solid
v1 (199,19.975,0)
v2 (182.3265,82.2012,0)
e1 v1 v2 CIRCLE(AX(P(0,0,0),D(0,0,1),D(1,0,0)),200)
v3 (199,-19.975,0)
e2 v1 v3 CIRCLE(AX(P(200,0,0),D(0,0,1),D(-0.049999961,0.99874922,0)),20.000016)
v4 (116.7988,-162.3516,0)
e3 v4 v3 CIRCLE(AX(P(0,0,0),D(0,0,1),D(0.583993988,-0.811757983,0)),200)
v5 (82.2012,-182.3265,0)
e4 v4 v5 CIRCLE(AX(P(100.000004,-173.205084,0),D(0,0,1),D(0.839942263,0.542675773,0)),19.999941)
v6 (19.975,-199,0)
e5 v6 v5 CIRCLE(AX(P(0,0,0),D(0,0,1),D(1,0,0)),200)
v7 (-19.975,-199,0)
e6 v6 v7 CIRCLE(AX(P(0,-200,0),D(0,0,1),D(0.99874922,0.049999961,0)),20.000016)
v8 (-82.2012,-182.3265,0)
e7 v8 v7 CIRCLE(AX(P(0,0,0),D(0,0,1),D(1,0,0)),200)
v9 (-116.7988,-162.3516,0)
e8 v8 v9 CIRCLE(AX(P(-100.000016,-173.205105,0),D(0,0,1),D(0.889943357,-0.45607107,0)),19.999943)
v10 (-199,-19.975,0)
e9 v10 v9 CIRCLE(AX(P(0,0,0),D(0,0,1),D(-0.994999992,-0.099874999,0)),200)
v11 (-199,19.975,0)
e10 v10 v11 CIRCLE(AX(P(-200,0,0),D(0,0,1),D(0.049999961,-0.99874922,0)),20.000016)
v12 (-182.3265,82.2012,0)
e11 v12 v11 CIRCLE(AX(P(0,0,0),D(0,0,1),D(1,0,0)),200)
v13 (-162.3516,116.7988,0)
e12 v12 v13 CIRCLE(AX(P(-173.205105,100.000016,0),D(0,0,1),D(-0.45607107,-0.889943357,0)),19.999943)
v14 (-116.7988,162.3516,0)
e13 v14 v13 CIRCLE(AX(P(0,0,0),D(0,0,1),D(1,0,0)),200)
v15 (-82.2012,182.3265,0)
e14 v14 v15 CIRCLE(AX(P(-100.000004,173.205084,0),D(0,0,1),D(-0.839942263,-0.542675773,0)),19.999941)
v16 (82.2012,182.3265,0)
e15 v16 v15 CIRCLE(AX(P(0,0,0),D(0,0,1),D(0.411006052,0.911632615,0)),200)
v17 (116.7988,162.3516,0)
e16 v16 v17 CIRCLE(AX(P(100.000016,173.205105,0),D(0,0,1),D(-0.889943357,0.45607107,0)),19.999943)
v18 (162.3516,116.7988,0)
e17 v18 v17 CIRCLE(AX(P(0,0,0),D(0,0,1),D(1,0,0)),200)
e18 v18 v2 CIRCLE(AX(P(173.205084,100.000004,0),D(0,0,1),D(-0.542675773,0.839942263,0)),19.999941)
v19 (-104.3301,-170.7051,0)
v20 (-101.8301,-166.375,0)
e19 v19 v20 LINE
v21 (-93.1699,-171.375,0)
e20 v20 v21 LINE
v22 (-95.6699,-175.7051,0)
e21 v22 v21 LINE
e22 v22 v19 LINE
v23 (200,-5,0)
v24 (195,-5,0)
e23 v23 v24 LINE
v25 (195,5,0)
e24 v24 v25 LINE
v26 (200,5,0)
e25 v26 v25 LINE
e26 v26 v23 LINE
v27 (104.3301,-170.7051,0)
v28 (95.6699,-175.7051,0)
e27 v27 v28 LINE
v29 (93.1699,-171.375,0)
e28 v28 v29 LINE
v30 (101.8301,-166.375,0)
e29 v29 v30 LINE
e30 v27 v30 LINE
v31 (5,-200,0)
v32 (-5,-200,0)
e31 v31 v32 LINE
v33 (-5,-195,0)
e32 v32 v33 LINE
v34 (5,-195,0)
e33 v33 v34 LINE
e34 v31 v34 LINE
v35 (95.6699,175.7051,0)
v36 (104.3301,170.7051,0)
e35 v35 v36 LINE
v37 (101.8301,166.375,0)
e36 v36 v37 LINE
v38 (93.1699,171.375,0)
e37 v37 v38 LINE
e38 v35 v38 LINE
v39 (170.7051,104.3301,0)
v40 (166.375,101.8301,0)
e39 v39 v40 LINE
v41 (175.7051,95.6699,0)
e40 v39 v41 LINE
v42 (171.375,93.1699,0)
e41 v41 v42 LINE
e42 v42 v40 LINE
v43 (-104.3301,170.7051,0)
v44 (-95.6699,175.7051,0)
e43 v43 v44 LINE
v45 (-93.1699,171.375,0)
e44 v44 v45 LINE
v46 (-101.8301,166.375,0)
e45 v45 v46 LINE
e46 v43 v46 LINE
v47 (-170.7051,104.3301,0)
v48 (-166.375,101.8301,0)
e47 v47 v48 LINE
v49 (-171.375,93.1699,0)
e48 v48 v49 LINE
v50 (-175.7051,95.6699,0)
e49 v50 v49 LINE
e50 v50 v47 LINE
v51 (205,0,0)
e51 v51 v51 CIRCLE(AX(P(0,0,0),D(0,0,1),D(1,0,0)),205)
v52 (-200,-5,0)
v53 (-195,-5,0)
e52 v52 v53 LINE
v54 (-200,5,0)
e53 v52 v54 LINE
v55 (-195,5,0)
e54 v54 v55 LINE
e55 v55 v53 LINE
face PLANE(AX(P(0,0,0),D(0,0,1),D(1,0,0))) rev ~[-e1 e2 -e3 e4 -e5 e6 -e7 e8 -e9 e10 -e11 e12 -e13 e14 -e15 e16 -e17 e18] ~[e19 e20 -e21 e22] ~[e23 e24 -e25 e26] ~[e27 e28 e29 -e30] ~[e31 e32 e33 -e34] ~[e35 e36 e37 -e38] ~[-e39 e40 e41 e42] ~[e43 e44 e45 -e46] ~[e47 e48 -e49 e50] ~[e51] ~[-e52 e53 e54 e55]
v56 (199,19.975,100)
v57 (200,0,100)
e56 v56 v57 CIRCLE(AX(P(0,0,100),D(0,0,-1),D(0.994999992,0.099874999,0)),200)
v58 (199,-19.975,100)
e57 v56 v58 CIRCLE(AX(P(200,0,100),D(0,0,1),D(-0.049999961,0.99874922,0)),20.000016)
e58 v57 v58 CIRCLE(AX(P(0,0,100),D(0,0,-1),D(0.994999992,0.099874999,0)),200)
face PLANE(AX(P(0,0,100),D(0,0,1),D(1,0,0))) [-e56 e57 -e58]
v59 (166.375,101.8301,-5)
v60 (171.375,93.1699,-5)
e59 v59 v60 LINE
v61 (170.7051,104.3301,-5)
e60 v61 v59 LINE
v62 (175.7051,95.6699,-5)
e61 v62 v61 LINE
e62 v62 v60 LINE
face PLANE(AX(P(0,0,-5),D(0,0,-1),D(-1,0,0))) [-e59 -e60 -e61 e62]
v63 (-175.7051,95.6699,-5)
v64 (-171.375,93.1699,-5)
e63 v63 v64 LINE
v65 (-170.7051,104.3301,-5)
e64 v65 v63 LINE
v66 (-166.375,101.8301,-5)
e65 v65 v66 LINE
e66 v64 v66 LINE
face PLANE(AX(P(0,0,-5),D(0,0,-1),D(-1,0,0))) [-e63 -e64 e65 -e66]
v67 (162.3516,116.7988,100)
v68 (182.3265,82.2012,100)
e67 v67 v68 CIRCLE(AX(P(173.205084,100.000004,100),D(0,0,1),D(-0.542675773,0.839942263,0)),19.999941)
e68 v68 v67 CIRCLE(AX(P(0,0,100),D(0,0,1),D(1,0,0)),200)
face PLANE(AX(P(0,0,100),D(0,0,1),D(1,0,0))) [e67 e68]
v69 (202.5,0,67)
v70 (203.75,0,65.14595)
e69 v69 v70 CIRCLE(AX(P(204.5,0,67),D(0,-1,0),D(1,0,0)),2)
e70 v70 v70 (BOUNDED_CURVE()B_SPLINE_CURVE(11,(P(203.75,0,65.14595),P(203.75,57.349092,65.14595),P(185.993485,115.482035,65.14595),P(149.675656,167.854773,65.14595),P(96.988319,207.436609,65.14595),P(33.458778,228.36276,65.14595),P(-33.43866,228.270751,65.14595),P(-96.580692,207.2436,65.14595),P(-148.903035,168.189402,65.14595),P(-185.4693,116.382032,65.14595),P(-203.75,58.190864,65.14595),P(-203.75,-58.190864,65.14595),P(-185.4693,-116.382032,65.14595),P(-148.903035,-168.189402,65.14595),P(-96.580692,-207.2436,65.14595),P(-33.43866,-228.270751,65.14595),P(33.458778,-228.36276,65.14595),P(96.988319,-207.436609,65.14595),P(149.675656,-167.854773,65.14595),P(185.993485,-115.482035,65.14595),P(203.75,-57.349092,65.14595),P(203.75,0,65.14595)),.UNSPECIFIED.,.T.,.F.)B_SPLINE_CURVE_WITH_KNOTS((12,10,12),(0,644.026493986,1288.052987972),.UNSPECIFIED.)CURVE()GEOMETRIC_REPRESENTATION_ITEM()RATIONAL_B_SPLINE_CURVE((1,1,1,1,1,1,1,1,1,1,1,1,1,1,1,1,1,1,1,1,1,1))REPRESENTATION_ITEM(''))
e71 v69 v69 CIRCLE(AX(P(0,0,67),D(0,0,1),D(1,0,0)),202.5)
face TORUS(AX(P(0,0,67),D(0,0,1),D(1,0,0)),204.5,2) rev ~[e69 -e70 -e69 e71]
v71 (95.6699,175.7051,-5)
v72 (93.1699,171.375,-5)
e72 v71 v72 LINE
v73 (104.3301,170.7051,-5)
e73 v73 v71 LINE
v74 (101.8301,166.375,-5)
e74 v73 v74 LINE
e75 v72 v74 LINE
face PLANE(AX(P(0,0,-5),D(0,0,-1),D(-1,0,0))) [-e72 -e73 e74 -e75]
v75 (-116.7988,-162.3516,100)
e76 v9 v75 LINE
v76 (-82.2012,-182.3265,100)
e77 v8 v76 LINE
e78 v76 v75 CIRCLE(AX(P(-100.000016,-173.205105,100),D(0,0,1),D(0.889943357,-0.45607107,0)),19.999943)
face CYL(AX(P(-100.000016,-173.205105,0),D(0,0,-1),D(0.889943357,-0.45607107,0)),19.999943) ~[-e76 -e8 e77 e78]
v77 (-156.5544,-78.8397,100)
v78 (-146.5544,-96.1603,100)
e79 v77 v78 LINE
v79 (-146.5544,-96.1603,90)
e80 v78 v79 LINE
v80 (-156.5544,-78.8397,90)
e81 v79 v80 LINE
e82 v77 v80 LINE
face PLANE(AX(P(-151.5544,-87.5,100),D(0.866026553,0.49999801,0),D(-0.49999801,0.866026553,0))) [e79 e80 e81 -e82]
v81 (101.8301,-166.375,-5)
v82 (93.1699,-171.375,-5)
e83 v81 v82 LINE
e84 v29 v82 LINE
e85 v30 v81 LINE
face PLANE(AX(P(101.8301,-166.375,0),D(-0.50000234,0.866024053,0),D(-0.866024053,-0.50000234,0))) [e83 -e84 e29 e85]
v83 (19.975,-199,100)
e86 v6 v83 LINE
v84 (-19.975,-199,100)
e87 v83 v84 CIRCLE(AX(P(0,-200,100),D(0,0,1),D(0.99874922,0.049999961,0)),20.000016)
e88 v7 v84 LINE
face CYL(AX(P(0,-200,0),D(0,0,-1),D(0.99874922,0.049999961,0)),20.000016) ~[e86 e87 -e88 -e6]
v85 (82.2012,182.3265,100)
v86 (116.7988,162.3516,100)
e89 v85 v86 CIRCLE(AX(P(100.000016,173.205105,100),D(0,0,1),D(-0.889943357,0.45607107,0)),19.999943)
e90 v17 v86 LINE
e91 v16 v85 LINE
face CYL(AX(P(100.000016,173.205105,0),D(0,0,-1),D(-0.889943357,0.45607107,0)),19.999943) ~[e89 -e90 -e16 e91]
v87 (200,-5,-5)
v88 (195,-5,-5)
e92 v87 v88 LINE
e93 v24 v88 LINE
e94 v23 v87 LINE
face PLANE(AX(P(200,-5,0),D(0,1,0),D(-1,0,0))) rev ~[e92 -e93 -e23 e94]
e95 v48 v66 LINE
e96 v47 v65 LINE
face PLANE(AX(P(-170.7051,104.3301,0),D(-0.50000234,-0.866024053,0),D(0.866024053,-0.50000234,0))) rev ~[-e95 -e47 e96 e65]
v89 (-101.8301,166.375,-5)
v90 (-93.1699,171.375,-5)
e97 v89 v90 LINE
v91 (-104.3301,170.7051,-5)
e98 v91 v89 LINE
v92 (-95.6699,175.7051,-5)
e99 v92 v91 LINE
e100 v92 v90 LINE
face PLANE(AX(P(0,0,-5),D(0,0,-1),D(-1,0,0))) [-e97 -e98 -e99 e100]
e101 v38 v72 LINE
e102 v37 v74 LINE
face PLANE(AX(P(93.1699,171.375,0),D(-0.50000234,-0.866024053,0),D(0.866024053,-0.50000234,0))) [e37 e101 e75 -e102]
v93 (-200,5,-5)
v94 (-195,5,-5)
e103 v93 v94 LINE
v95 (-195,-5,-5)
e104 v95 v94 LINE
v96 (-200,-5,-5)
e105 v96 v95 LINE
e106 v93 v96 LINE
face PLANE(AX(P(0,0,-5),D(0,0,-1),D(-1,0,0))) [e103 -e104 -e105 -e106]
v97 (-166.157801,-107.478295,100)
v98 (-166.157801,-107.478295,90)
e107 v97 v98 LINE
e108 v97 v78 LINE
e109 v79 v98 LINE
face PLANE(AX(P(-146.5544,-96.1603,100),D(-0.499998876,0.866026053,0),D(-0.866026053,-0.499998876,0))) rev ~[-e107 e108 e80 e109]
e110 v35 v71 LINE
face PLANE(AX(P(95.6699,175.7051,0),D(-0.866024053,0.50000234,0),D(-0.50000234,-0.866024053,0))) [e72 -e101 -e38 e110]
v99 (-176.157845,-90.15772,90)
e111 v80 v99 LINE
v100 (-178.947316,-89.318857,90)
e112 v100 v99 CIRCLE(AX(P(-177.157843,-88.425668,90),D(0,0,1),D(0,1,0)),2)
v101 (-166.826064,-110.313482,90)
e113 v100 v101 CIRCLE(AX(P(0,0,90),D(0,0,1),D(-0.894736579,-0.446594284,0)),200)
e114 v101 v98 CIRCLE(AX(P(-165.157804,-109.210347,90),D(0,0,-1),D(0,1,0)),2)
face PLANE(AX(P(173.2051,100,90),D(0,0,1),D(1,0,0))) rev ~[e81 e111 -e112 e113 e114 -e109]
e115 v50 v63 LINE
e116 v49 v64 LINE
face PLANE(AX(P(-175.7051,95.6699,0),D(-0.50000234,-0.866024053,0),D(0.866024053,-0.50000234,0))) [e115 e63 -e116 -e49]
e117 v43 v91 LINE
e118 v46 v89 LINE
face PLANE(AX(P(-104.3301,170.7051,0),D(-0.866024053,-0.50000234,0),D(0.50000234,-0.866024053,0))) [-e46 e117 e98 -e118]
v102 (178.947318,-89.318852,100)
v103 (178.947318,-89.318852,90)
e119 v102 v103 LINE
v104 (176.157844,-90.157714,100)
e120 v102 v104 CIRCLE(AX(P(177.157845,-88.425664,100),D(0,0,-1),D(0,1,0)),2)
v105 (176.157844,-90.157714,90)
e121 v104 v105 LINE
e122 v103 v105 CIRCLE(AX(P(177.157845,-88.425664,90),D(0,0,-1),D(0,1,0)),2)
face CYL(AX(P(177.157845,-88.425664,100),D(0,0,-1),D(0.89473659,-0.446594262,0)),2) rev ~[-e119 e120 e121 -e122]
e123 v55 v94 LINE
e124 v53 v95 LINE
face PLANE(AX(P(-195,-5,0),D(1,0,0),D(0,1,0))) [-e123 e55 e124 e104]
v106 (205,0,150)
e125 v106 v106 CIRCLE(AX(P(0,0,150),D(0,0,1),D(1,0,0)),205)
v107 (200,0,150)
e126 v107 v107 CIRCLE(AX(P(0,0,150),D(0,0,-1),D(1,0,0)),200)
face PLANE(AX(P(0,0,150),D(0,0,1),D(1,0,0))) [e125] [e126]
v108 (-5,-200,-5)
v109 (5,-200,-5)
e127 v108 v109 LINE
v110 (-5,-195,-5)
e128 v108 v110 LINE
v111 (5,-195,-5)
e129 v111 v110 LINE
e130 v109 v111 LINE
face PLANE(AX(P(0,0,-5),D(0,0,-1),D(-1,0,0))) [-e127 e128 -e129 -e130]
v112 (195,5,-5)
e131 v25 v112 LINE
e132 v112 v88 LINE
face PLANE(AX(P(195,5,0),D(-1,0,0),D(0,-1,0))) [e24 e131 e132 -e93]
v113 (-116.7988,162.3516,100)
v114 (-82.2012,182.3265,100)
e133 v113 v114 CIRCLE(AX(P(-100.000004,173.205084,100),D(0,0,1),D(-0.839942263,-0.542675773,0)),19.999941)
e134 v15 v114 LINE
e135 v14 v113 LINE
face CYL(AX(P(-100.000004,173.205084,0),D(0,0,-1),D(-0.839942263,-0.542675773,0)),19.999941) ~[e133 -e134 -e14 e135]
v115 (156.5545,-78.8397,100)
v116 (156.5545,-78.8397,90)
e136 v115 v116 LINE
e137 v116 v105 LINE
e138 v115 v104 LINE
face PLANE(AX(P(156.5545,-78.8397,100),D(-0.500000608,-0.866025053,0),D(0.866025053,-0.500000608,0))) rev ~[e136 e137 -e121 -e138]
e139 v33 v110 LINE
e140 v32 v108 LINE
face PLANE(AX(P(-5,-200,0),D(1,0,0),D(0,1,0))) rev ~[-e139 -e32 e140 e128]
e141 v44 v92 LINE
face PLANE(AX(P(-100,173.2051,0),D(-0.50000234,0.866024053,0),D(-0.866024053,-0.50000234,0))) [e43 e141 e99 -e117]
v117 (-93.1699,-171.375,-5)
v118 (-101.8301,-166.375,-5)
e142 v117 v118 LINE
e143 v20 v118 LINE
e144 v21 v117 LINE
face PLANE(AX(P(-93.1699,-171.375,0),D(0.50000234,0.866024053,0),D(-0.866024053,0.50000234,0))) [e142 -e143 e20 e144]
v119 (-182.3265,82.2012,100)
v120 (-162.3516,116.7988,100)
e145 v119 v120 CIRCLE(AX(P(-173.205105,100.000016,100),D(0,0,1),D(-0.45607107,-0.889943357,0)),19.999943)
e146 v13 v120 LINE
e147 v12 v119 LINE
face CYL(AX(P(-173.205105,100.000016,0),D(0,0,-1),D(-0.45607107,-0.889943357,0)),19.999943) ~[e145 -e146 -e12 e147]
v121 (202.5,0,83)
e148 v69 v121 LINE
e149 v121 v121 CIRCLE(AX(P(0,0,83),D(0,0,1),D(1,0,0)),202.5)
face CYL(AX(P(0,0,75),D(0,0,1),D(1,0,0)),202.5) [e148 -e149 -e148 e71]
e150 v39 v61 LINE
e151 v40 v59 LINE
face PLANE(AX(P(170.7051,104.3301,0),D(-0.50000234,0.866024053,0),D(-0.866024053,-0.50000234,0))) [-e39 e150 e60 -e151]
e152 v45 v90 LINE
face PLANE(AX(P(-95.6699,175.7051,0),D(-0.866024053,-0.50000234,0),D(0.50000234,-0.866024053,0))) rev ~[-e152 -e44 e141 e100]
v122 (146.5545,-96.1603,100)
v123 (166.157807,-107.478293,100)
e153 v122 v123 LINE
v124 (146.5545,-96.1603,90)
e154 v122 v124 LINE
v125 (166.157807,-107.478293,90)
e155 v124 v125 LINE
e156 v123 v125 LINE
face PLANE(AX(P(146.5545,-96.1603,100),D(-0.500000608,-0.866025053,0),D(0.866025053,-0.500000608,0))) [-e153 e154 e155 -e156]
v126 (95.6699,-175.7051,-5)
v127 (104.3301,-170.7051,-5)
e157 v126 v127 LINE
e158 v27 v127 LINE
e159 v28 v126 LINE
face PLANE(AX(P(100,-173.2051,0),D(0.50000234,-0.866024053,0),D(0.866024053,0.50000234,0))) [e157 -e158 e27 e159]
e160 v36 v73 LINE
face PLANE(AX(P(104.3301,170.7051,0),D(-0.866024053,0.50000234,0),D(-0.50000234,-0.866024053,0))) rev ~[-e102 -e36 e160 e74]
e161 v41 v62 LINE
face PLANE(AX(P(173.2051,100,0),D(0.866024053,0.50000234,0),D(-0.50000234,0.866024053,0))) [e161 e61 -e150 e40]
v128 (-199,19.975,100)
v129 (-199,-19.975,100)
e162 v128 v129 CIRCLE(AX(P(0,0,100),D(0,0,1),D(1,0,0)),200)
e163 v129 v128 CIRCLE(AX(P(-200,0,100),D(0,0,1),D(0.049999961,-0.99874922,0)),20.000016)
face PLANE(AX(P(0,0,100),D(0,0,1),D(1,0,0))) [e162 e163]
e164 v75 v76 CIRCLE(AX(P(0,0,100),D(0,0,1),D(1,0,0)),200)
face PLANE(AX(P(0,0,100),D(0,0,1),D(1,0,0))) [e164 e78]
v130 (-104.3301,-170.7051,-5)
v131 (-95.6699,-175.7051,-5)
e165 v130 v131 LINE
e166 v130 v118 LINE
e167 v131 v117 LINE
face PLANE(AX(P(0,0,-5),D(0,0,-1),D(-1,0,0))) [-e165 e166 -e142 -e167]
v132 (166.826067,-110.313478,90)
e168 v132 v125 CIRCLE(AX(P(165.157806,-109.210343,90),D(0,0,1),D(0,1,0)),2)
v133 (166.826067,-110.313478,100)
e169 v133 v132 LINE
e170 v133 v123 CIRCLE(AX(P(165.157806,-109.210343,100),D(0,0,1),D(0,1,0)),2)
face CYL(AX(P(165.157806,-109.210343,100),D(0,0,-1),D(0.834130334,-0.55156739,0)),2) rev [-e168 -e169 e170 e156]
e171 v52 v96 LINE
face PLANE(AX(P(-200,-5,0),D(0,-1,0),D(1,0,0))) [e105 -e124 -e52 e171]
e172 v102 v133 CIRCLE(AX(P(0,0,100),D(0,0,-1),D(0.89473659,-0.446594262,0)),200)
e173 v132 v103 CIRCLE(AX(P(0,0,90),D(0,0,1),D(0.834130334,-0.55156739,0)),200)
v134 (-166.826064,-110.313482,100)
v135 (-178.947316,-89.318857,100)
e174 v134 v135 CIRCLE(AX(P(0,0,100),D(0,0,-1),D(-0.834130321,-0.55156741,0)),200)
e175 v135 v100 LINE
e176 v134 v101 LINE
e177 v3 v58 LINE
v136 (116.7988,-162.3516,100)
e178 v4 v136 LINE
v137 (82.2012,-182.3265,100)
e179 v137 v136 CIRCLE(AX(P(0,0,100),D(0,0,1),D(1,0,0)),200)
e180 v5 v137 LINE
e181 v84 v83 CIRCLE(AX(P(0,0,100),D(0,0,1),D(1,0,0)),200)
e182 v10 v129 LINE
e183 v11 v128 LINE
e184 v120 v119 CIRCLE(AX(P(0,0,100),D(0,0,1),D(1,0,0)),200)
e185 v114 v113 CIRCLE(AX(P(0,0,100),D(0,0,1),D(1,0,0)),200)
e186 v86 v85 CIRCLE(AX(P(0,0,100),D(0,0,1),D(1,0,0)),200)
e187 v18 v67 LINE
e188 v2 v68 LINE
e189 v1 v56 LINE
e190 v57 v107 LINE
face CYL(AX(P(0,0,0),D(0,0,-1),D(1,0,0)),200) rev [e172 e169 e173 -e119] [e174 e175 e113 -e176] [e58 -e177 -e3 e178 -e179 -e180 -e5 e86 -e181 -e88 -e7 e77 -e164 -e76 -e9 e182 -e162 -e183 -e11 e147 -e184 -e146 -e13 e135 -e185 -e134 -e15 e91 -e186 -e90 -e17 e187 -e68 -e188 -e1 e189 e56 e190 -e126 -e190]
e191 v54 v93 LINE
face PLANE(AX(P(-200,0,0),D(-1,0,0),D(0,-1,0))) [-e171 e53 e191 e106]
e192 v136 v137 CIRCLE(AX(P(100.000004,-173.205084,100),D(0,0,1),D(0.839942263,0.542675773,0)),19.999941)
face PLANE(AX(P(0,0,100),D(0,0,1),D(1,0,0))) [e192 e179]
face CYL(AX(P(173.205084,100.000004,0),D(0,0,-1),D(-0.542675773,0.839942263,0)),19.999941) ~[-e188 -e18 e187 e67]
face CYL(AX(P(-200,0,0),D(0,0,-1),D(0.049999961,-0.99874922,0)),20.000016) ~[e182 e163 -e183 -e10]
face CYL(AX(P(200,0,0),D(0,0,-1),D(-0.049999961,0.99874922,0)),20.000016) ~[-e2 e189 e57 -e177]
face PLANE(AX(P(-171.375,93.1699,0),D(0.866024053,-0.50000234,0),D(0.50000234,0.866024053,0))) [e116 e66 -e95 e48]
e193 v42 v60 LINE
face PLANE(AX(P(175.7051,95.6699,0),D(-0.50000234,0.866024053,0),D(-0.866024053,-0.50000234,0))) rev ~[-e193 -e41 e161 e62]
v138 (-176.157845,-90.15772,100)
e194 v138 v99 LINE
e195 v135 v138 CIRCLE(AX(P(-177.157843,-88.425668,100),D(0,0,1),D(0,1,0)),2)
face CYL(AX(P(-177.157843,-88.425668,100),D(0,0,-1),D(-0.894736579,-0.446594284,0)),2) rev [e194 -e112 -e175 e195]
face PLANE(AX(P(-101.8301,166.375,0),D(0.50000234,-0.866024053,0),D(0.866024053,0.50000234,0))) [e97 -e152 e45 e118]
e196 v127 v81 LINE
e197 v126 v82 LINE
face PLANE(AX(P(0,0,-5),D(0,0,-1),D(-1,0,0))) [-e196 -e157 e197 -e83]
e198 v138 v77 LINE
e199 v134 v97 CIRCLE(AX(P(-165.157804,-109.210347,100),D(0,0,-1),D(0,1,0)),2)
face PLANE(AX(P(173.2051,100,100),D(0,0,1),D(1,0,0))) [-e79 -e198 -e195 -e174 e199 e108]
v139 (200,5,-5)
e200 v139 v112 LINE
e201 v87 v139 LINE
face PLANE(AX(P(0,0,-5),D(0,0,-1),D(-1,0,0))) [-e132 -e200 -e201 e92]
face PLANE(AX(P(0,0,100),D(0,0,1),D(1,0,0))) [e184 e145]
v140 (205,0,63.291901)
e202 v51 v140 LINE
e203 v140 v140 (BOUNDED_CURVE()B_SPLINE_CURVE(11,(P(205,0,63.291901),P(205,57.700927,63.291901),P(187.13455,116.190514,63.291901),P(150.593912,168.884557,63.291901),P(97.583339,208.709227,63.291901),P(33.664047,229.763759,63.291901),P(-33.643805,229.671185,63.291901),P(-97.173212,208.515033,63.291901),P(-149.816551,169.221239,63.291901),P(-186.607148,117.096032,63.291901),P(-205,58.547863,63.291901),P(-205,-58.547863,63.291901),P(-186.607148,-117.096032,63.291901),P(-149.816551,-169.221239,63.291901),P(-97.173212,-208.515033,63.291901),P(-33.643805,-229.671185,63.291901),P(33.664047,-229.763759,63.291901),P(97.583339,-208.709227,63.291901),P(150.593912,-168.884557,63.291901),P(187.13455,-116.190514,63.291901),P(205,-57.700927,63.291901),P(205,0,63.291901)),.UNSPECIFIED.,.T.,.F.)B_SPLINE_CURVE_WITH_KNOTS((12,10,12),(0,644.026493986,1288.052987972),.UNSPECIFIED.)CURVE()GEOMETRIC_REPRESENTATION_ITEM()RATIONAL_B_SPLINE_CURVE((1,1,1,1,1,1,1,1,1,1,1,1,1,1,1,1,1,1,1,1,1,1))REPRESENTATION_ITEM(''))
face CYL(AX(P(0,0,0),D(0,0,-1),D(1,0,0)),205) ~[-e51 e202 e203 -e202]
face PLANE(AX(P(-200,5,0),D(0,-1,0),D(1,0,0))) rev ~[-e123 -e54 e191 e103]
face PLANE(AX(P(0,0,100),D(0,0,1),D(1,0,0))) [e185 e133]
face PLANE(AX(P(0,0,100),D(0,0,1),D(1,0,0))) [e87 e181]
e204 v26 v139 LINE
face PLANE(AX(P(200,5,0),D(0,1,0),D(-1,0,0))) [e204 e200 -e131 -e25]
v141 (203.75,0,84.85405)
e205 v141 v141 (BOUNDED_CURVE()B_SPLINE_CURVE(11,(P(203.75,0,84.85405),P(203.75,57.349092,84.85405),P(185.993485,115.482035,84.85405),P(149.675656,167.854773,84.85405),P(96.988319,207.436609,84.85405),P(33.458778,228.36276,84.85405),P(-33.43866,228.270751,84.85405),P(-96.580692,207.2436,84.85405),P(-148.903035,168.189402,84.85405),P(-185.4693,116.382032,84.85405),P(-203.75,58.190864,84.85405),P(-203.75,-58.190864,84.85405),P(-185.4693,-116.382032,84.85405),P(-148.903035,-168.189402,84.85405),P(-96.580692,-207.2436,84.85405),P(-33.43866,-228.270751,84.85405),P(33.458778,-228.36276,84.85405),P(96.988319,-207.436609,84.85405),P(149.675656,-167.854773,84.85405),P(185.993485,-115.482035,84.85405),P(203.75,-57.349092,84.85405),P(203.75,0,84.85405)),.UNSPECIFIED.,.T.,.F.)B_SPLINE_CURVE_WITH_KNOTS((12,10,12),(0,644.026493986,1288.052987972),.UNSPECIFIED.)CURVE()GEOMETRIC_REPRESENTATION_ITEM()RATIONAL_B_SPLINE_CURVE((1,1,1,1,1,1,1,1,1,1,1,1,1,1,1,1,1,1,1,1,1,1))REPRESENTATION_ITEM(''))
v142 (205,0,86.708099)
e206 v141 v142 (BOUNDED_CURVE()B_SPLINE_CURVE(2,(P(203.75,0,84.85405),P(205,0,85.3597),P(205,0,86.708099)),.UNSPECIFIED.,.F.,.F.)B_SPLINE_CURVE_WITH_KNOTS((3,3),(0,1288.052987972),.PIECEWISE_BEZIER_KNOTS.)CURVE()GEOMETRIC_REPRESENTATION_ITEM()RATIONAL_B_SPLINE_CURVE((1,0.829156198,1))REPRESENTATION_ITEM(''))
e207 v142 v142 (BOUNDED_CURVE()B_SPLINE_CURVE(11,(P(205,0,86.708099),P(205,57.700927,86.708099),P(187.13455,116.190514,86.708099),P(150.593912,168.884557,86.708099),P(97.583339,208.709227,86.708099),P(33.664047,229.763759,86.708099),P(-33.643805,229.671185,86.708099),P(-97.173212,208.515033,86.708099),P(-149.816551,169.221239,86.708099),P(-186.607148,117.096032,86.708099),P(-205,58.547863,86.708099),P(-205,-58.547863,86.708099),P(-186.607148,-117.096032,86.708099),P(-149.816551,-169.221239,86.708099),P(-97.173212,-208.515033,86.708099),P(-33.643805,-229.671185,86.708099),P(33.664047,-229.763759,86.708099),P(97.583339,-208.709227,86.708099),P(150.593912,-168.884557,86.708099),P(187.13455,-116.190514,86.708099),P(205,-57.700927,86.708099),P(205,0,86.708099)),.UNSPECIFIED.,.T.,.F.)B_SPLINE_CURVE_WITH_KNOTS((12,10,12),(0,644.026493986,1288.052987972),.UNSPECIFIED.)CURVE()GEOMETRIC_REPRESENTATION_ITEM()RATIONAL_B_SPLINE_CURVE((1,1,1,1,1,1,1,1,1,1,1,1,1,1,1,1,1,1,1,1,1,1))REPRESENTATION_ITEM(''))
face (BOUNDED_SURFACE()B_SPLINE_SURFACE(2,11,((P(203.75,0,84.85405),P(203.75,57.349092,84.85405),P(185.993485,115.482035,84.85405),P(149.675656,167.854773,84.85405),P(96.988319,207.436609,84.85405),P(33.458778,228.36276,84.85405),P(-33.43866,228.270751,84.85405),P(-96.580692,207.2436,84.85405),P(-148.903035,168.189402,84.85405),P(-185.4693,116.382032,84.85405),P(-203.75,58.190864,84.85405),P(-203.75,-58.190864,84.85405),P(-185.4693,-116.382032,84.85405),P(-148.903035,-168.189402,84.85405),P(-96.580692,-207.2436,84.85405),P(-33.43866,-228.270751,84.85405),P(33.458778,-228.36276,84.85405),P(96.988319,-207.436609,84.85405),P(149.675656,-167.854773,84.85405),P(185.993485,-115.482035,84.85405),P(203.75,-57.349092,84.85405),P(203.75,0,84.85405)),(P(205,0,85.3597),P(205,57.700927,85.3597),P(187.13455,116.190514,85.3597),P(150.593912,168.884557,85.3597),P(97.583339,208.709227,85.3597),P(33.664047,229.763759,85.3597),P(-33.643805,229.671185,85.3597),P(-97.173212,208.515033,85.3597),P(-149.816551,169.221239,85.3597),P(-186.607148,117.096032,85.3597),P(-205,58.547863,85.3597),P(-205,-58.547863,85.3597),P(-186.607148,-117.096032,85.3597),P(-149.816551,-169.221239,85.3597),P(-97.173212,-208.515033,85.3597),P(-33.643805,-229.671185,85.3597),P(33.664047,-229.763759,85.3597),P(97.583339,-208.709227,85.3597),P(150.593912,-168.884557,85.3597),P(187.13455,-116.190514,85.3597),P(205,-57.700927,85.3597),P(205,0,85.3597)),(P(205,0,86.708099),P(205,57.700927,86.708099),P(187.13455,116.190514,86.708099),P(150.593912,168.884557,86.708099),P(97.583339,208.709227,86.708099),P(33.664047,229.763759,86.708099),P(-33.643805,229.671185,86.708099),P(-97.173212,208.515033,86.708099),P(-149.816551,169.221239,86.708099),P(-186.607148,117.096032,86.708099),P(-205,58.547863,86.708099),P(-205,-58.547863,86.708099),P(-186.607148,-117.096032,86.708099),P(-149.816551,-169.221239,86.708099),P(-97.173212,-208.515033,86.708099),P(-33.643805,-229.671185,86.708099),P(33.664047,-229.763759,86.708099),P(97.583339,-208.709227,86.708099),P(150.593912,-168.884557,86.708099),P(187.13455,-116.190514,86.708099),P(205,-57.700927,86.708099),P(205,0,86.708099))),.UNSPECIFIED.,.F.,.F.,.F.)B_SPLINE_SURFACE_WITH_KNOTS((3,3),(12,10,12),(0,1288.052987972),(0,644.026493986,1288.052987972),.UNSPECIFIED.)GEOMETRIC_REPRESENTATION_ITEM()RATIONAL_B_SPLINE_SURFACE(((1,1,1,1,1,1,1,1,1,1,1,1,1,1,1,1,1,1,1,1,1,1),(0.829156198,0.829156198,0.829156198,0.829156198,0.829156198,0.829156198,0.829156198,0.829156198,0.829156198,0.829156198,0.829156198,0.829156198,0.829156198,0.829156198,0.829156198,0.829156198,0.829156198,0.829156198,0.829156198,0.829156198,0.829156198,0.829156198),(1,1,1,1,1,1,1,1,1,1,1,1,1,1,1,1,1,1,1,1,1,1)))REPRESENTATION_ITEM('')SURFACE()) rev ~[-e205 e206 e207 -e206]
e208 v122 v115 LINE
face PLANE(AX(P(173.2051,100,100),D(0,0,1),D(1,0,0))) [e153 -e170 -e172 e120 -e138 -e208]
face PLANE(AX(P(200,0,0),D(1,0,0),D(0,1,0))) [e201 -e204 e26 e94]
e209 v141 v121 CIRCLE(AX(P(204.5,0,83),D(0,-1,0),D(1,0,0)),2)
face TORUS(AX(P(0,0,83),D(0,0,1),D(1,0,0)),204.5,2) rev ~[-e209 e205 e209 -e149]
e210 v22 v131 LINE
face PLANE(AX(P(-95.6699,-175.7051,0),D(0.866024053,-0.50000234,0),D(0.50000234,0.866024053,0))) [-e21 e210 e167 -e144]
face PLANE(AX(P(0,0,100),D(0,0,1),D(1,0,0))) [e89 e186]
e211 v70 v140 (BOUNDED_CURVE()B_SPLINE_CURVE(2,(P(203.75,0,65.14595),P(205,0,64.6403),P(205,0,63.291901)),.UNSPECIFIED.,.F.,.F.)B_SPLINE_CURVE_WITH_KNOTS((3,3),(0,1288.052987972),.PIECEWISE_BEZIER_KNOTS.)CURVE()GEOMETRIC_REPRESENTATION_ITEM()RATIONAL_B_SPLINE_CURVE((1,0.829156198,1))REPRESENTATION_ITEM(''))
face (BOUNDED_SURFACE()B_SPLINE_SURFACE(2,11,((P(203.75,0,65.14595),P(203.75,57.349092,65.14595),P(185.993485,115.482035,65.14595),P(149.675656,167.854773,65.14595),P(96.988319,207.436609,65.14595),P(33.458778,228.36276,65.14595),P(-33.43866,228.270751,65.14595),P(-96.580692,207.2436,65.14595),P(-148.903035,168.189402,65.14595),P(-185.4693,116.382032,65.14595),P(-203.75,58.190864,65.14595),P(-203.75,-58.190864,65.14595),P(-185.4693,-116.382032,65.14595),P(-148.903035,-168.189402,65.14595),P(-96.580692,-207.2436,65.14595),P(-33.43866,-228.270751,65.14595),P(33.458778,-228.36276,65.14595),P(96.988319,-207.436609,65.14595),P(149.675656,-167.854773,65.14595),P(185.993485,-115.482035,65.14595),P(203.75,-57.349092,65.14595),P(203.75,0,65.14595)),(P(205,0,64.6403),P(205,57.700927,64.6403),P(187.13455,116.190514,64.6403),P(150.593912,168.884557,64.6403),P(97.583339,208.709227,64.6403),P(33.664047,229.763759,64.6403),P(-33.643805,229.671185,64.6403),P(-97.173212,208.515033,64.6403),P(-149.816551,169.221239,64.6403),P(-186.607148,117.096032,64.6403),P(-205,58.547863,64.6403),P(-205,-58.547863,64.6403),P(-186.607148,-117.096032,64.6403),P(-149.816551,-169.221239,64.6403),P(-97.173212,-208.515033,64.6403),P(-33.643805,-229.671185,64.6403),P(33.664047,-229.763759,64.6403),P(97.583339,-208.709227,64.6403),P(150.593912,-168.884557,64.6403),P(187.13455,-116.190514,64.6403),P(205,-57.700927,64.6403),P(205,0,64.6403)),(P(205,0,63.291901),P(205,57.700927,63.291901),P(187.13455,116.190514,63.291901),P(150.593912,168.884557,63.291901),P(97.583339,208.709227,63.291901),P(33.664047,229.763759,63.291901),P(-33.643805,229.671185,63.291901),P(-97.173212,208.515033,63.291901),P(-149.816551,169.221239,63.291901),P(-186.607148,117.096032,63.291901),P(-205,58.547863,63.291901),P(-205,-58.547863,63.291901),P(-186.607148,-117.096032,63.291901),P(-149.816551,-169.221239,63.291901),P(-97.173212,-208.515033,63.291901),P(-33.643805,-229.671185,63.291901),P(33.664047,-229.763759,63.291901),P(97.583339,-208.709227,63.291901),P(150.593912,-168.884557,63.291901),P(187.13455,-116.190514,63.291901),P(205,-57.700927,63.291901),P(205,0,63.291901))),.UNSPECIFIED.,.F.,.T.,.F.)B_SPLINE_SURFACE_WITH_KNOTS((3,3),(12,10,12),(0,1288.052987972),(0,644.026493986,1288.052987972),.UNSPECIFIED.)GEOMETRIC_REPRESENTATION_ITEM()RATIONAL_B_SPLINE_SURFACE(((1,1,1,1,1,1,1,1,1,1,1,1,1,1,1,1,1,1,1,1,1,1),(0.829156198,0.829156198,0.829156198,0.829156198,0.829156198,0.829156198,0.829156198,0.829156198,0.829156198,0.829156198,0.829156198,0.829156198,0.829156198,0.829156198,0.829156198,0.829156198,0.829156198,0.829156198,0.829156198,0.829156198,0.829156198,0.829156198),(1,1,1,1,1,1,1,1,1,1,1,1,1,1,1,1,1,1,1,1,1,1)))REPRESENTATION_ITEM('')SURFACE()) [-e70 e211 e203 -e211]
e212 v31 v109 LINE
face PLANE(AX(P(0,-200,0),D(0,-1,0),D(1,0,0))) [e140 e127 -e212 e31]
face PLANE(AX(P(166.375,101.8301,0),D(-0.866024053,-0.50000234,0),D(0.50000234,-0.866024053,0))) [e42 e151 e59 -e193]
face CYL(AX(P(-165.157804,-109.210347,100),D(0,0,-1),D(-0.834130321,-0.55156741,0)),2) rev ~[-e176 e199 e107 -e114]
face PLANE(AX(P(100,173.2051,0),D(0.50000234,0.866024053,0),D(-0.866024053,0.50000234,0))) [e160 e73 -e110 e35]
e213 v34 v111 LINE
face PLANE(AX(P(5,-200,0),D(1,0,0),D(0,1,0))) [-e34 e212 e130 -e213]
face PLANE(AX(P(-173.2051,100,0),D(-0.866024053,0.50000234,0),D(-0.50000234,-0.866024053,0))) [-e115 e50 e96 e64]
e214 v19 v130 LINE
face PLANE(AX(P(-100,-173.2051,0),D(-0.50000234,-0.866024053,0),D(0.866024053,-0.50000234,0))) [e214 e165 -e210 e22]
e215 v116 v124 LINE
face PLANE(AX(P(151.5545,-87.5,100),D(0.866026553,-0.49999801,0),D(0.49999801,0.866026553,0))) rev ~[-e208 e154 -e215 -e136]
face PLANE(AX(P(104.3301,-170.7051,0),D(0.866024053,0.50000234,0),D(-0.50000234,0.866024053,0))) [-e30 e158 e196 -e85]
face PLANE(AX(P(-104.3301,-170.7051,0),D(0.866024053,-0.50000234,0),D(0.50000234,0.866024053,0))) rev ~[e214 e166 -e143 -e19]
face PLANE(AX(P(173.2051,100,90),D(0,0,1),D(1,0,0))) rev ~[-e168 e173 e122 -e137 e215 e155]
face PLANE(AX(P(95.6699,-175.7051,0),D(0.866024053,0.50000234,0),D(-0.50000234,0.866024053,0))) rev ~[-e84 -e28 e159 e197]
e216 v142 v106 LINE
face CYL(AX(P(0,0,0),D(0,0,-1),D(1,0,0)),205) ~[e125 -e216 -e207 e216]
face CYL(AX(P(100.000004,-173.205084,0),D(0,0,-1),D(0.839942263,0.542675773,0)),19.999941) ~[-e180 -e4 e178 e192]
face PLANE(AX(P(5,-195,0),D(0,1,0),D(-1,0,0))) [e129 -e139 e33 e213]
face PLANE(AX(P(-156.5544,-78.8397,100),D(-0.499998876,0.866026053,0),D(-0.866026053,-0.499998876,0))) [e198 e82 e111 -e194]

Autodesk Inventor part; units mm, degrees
ref_plane "YZ Plane" through (0, 0, 0) normal (1, 0, 0) x (0, 1, 0)
sketch "Sketch1" plane through (0, 0, 0) normal (0, 0, 1) x (1, 0, 0)
  circle A0 centre (0, 0) radius 200
  circle A1 centre (0, 0) radius 205
  line L0 (0, 0) -> (0, 200)
  line L1 (0, 0) -> (173.2051, -100)
  line L2 (-173.2051, -100) -> (0, 0)
  arc A2 (82.2012, 182.3265) -> (116.7988, 162.3516) centre (100, 173.2051) ccw
  arc A3 (162.3516, 116.7988) -> (182.3265, 82.2012) centre (173.2051, 100) ccw
  arc A4 (199, 19.975) -> (199, -19.975) centre (200, 0) ccw
  arc A5 (116.7988, -162.3516) -> (82.2012, -182.3265) centre (100, -173.2051) ccw
  arc A6 (19.975, -199) -> (-19.975, -199) centre (0, -200) ccw
  arc A7 (-82.2012, -182.3265) -> (-116.7988, -162.3516) centre (-100, -173.2051) ccw
  arc A8 (-199, -19.975) -> (-199, 19.975) centre (-200, 0) ccw
  arc A9 (-182.3265, 82.2012) -> (-162.3516, 116.7988) centre (-173.2051, 100) ccw
  arc A10 (-116.7988, 162.3516) -> (-82.2012, 182.3265) centre (-100, 173.2051) ccw
  dimension "d0" = 400
  dimension "d1" = 410
  dimension "d2" = 120
  dimension "d3" = 120
extrude "Extrusion1" add sketch "Sketch1" along normal blind 150
extrude "Extrusion2" add sketch "Sketch1" along normal blind 100 contours A0 A4 | A3 A0 | A0 A5 | A2 A0 | A0 A6 | A10 A0 | A0 A8 | A7 A0 | A9 A0
ref_plane "Work Plane1" through (173.2051, 100, 100) normal (0, 0, 1) x (1, 0, 0)
sketch "Sketch2" plane through (173.2051, 100, 100) normal (0, 0, 1) x (1, 0, 0)
  arc A0 (-372.2051, -119.975) -> (-290.0039, -262.3516) centre (-173.2051, -100) ccw projected
  line L0 (-324.7595, -187.5) -> (-319.7595, -196.1603)
  line L1 (-319.7595, -196.1603) -> (-341.4102, -208.6603)
  line L2 (-341.4102, -208.6603) -> (-346.4102, -200)
  line L3 (-324.7595, -187.5) -> (-329.7595, -178.8397)
  line L4 (-329.7595, -178.8397) -> (-351.4102, -191.3397)
  line L5 (-351.4102, -191.3397) -> (-346.4102, -200)
  line L6 (-21.6506, -187.5) -> (-16.6506, -178.8397)
  line L7 (-16.6506, -178.8397) -> (5, -191.3397)
  line L8 (5, -191.3397) -> (0, -200)
  line L9 (-21.6506, -187.5) -> (-26.6506, -196.1603)
  line L10 (-26.6506, -196.1603) -> (-5, -208.6603)
  line L11 (-5, -208.6603) -> (0, -200)
  dimension "d19" = 25
  dimension "d20" = 10
  dimension "d21" = 25
  dimension "d22" = 10
extrude "Extrusion3" add sketch "Sketch2" against normal blind 10
fillet "Fillet1" radius 2 1 edges at (-167.9884, -108.5352, 95)
fillet "Fillet2" radius 2 1 edges at (-177.9884, -91.2147, 95)
fillet "Fillet3" radius 2 2 edges at (167.9884, -108.5352, 95) (177.9884, -91.2147, 95)
ref_plane "Work Plane2" through (0, 0, 75) normal (0, 0, 1) x (1, 0, 0)
sketch "Sketch3" plane through (0, 0, 75) normal (0, 0, 1) x (1, 0, 0)
  circle A0 centre (0, 0) radius 205
  circle A1 centre (0, 0) radius 202.5
  dimension "d28" = 405
extrude "Extrusion4" cut sketch "Sketch3" along normal mid plane 20
fillet "Fillet4" radius 2 4 edges at (-202.5, 0, 85) (-205, 0, 85) (-202.5, 0, 65) (-205, 0, 65)
sketch "Sketch6" plane through (0, 0, 0) normal (0, 0, -1) x (-1, 0, 0)
  line L0 (0, -200) -> (-5, -200)
  line L1 (-5, -200) -> (-5, -195)
  line L2 (-5, -195) -> (0, -195)
  line L3 (0, -200) -> (5, -200)
  line L4 (5, -200) -> (5, -195)
  line L5 (5, -195) -> (0, -195)
  line L6 (100, -173.2051) -> (95.6699, -175.7051)
  line L7 (95.6699, -175.7051) -> (93.1699, -171.375)
  line L8 (93.1699, -171.375) -> (97.5, -168.875)
  line L9 (100, -173.2051) -> (104.3301, -170.7051)
  line L10 (104.3301, -170.7051) -> (101.8301, -166.375)
  line L11 (101.8301, -166.375) -> (97.5, -168.875)
  line L12 (173.2051, -100) -> (170.7051, -104.3301)
  line L13 (170.7051, -104.3301) -> (166.375, -101.8301)
  line L14 (166.375, -101.8301) -> (168.875, -97.5)
  line L15 (173.2051, -100) -> (175.7051, -95.6699)
  line L16 (175.7051, -95.6699) -> (171.375, -93.1699)
  line L17 (171.375, -93.1699) -> (168.875, -97.5)
  line L18 (200, 0) -> (200, -5)
  line L19 (200, -5) -> (195, -5)
  line L20 (195, -5) -> (195, 0)
  line L21 (200, 0) -> (200, 5)
  line L22 (200, 5) -> (195, 5)
  line L23 (195, 5) -> (195, 0)
  line L24 (173.2051, 100) -> (175.7051, 95.6699)
  line L25 (175.7051, 95.6699) -> (171.375, 93.1699)
  line L26 (171.375, 93.1699) -> (168.875, 97.5)
  line L27 (173.2051, 100) -> (170.7051, 104.3301)
  line L28 (170.7051, 104.3301) -> (166.375, 101.8301)
  line L29 (166.375, 101.8301) -> (168.875, 97.5)
  line L30 (100, 173.2051) -> (104.3301, 170.7051)
  line L31 (104.3301, 170.7051) -> (101.8301, 166.375)
  line L32 (101.8301, 166.375) -> (97.5, 168.875)
  line L33 (100, 173.2051) -> (95.6699, 175.7051)
  line L34 (95.6699, 175.7051) -> (93.1699, 171.375)
  line L35 (93.1699, 171.375) -> (97.5, 168.875)
  line L36 (0, 200) -> (5, 200)
  line L37 (5, 200) -> (5, 195)
  line L38 (5, 195) -> (0, 195)
  line L39 (0, 200) -> (-5, 200)
  line L40 (-5, 200) -> (-5, 195)
  line L41 (-5, 195) -> (0, 195)
  line L42 (-100, 173.2051) -> (-95.6699, 175.7051)
  line L43 (-95.6699, 175.7051) -> (-93.1699, 171.375)
  line L44 (-93.1699, 171.375) -> (-97.5, 168.875)
  line L45 (-100, 173.2051) -> (-104.3301, 170.7051)
  line L46 (-104.3301, 170.7051) -> (-101.8301, 166.375)
  line L47 (-101.8301, 166.375) -> (-97.5, 168.875)
  line L48 (-173.2051, 100) -> (-170.7051, 104.3301)
  line L49 (-170.7051, 104.3301) -> (-166.375, 101.8301)
  line L50 (-166.375, 101.8301) -> (-168.875, 97.5)
  line L51 (-173.2051, 100) -> (-175.7051, 95.6699)
  line L52 (-175.7051, 95.6699) -> (-171.375, 93.1699)
  line L53 (-171.375, 93.1699) -> (-168.875, 97.5)
  line L54 (-200, 0) -> (-200, 5)
  line L55 (-200, 5) -> (-195, 5)
  line L56 (-195, 5) -> (-195, 0)
  line L57 (-200, 0) -> (-200, -5)
  line L58 (-200, -5) -> (-195, -5)
  line L59 (-195, -5) -> (-195, 0)
  line L60 (-173.2051, -100) -> (-175.7051, -95.6699)
  line L61 (-175.7051, -95.6699) -> (-171.375, -93.1699)
  line L62 (-171.375, -93.1699) -> (-168.875, -97.5)
  line L63 (-173.2051, -100) -> (-170.7051, -104.3301)
  line L64 (-170.7051, -104.3301) -> (-166.375, -101.8301)
  line L65 (-166.375, -101.8301) -> (-168.875, -97.5)
  line L66 (-100, -173.2051) -> (-104.3301, -170.7051)
  line L67 (-104.3301, -170.7051) -> (-101.8301, -166.375)
  line L68 (-101.8301, -166.375) -> (-97.5, -168.875)
  line L69 (-100, -173.2051) -> (-95.6699, -175.7051)
  line L70 (-95.6699, -175.7051) -> (-93.1699, -171.375)
  line L71 (-93.1699, -171.375) -> (-97.5, -168.875)
  point P0 (0, 0)
  point P1 (0, 0)
  dimension "d34" = 360
extrude "Extrusion5" add sketch "Sketch6" along normal blind 5 contours L0 L1 L2 L5 L4 L3 | L6 L7 L8 L11 L10 L9 | L18 L19 L20 L23 L22 L21 | L24 L25 L26 L29 L28 L27 | L30 L31 L32 L35 L34 L33 | L42 L43 L44 L47 L46 L45 | L48 L49 L50 L53 L52 L51 | L54 L55 L56 L59 L58 L57 | L66 L67 L68 L71 L70 L69
properties part number "than"
